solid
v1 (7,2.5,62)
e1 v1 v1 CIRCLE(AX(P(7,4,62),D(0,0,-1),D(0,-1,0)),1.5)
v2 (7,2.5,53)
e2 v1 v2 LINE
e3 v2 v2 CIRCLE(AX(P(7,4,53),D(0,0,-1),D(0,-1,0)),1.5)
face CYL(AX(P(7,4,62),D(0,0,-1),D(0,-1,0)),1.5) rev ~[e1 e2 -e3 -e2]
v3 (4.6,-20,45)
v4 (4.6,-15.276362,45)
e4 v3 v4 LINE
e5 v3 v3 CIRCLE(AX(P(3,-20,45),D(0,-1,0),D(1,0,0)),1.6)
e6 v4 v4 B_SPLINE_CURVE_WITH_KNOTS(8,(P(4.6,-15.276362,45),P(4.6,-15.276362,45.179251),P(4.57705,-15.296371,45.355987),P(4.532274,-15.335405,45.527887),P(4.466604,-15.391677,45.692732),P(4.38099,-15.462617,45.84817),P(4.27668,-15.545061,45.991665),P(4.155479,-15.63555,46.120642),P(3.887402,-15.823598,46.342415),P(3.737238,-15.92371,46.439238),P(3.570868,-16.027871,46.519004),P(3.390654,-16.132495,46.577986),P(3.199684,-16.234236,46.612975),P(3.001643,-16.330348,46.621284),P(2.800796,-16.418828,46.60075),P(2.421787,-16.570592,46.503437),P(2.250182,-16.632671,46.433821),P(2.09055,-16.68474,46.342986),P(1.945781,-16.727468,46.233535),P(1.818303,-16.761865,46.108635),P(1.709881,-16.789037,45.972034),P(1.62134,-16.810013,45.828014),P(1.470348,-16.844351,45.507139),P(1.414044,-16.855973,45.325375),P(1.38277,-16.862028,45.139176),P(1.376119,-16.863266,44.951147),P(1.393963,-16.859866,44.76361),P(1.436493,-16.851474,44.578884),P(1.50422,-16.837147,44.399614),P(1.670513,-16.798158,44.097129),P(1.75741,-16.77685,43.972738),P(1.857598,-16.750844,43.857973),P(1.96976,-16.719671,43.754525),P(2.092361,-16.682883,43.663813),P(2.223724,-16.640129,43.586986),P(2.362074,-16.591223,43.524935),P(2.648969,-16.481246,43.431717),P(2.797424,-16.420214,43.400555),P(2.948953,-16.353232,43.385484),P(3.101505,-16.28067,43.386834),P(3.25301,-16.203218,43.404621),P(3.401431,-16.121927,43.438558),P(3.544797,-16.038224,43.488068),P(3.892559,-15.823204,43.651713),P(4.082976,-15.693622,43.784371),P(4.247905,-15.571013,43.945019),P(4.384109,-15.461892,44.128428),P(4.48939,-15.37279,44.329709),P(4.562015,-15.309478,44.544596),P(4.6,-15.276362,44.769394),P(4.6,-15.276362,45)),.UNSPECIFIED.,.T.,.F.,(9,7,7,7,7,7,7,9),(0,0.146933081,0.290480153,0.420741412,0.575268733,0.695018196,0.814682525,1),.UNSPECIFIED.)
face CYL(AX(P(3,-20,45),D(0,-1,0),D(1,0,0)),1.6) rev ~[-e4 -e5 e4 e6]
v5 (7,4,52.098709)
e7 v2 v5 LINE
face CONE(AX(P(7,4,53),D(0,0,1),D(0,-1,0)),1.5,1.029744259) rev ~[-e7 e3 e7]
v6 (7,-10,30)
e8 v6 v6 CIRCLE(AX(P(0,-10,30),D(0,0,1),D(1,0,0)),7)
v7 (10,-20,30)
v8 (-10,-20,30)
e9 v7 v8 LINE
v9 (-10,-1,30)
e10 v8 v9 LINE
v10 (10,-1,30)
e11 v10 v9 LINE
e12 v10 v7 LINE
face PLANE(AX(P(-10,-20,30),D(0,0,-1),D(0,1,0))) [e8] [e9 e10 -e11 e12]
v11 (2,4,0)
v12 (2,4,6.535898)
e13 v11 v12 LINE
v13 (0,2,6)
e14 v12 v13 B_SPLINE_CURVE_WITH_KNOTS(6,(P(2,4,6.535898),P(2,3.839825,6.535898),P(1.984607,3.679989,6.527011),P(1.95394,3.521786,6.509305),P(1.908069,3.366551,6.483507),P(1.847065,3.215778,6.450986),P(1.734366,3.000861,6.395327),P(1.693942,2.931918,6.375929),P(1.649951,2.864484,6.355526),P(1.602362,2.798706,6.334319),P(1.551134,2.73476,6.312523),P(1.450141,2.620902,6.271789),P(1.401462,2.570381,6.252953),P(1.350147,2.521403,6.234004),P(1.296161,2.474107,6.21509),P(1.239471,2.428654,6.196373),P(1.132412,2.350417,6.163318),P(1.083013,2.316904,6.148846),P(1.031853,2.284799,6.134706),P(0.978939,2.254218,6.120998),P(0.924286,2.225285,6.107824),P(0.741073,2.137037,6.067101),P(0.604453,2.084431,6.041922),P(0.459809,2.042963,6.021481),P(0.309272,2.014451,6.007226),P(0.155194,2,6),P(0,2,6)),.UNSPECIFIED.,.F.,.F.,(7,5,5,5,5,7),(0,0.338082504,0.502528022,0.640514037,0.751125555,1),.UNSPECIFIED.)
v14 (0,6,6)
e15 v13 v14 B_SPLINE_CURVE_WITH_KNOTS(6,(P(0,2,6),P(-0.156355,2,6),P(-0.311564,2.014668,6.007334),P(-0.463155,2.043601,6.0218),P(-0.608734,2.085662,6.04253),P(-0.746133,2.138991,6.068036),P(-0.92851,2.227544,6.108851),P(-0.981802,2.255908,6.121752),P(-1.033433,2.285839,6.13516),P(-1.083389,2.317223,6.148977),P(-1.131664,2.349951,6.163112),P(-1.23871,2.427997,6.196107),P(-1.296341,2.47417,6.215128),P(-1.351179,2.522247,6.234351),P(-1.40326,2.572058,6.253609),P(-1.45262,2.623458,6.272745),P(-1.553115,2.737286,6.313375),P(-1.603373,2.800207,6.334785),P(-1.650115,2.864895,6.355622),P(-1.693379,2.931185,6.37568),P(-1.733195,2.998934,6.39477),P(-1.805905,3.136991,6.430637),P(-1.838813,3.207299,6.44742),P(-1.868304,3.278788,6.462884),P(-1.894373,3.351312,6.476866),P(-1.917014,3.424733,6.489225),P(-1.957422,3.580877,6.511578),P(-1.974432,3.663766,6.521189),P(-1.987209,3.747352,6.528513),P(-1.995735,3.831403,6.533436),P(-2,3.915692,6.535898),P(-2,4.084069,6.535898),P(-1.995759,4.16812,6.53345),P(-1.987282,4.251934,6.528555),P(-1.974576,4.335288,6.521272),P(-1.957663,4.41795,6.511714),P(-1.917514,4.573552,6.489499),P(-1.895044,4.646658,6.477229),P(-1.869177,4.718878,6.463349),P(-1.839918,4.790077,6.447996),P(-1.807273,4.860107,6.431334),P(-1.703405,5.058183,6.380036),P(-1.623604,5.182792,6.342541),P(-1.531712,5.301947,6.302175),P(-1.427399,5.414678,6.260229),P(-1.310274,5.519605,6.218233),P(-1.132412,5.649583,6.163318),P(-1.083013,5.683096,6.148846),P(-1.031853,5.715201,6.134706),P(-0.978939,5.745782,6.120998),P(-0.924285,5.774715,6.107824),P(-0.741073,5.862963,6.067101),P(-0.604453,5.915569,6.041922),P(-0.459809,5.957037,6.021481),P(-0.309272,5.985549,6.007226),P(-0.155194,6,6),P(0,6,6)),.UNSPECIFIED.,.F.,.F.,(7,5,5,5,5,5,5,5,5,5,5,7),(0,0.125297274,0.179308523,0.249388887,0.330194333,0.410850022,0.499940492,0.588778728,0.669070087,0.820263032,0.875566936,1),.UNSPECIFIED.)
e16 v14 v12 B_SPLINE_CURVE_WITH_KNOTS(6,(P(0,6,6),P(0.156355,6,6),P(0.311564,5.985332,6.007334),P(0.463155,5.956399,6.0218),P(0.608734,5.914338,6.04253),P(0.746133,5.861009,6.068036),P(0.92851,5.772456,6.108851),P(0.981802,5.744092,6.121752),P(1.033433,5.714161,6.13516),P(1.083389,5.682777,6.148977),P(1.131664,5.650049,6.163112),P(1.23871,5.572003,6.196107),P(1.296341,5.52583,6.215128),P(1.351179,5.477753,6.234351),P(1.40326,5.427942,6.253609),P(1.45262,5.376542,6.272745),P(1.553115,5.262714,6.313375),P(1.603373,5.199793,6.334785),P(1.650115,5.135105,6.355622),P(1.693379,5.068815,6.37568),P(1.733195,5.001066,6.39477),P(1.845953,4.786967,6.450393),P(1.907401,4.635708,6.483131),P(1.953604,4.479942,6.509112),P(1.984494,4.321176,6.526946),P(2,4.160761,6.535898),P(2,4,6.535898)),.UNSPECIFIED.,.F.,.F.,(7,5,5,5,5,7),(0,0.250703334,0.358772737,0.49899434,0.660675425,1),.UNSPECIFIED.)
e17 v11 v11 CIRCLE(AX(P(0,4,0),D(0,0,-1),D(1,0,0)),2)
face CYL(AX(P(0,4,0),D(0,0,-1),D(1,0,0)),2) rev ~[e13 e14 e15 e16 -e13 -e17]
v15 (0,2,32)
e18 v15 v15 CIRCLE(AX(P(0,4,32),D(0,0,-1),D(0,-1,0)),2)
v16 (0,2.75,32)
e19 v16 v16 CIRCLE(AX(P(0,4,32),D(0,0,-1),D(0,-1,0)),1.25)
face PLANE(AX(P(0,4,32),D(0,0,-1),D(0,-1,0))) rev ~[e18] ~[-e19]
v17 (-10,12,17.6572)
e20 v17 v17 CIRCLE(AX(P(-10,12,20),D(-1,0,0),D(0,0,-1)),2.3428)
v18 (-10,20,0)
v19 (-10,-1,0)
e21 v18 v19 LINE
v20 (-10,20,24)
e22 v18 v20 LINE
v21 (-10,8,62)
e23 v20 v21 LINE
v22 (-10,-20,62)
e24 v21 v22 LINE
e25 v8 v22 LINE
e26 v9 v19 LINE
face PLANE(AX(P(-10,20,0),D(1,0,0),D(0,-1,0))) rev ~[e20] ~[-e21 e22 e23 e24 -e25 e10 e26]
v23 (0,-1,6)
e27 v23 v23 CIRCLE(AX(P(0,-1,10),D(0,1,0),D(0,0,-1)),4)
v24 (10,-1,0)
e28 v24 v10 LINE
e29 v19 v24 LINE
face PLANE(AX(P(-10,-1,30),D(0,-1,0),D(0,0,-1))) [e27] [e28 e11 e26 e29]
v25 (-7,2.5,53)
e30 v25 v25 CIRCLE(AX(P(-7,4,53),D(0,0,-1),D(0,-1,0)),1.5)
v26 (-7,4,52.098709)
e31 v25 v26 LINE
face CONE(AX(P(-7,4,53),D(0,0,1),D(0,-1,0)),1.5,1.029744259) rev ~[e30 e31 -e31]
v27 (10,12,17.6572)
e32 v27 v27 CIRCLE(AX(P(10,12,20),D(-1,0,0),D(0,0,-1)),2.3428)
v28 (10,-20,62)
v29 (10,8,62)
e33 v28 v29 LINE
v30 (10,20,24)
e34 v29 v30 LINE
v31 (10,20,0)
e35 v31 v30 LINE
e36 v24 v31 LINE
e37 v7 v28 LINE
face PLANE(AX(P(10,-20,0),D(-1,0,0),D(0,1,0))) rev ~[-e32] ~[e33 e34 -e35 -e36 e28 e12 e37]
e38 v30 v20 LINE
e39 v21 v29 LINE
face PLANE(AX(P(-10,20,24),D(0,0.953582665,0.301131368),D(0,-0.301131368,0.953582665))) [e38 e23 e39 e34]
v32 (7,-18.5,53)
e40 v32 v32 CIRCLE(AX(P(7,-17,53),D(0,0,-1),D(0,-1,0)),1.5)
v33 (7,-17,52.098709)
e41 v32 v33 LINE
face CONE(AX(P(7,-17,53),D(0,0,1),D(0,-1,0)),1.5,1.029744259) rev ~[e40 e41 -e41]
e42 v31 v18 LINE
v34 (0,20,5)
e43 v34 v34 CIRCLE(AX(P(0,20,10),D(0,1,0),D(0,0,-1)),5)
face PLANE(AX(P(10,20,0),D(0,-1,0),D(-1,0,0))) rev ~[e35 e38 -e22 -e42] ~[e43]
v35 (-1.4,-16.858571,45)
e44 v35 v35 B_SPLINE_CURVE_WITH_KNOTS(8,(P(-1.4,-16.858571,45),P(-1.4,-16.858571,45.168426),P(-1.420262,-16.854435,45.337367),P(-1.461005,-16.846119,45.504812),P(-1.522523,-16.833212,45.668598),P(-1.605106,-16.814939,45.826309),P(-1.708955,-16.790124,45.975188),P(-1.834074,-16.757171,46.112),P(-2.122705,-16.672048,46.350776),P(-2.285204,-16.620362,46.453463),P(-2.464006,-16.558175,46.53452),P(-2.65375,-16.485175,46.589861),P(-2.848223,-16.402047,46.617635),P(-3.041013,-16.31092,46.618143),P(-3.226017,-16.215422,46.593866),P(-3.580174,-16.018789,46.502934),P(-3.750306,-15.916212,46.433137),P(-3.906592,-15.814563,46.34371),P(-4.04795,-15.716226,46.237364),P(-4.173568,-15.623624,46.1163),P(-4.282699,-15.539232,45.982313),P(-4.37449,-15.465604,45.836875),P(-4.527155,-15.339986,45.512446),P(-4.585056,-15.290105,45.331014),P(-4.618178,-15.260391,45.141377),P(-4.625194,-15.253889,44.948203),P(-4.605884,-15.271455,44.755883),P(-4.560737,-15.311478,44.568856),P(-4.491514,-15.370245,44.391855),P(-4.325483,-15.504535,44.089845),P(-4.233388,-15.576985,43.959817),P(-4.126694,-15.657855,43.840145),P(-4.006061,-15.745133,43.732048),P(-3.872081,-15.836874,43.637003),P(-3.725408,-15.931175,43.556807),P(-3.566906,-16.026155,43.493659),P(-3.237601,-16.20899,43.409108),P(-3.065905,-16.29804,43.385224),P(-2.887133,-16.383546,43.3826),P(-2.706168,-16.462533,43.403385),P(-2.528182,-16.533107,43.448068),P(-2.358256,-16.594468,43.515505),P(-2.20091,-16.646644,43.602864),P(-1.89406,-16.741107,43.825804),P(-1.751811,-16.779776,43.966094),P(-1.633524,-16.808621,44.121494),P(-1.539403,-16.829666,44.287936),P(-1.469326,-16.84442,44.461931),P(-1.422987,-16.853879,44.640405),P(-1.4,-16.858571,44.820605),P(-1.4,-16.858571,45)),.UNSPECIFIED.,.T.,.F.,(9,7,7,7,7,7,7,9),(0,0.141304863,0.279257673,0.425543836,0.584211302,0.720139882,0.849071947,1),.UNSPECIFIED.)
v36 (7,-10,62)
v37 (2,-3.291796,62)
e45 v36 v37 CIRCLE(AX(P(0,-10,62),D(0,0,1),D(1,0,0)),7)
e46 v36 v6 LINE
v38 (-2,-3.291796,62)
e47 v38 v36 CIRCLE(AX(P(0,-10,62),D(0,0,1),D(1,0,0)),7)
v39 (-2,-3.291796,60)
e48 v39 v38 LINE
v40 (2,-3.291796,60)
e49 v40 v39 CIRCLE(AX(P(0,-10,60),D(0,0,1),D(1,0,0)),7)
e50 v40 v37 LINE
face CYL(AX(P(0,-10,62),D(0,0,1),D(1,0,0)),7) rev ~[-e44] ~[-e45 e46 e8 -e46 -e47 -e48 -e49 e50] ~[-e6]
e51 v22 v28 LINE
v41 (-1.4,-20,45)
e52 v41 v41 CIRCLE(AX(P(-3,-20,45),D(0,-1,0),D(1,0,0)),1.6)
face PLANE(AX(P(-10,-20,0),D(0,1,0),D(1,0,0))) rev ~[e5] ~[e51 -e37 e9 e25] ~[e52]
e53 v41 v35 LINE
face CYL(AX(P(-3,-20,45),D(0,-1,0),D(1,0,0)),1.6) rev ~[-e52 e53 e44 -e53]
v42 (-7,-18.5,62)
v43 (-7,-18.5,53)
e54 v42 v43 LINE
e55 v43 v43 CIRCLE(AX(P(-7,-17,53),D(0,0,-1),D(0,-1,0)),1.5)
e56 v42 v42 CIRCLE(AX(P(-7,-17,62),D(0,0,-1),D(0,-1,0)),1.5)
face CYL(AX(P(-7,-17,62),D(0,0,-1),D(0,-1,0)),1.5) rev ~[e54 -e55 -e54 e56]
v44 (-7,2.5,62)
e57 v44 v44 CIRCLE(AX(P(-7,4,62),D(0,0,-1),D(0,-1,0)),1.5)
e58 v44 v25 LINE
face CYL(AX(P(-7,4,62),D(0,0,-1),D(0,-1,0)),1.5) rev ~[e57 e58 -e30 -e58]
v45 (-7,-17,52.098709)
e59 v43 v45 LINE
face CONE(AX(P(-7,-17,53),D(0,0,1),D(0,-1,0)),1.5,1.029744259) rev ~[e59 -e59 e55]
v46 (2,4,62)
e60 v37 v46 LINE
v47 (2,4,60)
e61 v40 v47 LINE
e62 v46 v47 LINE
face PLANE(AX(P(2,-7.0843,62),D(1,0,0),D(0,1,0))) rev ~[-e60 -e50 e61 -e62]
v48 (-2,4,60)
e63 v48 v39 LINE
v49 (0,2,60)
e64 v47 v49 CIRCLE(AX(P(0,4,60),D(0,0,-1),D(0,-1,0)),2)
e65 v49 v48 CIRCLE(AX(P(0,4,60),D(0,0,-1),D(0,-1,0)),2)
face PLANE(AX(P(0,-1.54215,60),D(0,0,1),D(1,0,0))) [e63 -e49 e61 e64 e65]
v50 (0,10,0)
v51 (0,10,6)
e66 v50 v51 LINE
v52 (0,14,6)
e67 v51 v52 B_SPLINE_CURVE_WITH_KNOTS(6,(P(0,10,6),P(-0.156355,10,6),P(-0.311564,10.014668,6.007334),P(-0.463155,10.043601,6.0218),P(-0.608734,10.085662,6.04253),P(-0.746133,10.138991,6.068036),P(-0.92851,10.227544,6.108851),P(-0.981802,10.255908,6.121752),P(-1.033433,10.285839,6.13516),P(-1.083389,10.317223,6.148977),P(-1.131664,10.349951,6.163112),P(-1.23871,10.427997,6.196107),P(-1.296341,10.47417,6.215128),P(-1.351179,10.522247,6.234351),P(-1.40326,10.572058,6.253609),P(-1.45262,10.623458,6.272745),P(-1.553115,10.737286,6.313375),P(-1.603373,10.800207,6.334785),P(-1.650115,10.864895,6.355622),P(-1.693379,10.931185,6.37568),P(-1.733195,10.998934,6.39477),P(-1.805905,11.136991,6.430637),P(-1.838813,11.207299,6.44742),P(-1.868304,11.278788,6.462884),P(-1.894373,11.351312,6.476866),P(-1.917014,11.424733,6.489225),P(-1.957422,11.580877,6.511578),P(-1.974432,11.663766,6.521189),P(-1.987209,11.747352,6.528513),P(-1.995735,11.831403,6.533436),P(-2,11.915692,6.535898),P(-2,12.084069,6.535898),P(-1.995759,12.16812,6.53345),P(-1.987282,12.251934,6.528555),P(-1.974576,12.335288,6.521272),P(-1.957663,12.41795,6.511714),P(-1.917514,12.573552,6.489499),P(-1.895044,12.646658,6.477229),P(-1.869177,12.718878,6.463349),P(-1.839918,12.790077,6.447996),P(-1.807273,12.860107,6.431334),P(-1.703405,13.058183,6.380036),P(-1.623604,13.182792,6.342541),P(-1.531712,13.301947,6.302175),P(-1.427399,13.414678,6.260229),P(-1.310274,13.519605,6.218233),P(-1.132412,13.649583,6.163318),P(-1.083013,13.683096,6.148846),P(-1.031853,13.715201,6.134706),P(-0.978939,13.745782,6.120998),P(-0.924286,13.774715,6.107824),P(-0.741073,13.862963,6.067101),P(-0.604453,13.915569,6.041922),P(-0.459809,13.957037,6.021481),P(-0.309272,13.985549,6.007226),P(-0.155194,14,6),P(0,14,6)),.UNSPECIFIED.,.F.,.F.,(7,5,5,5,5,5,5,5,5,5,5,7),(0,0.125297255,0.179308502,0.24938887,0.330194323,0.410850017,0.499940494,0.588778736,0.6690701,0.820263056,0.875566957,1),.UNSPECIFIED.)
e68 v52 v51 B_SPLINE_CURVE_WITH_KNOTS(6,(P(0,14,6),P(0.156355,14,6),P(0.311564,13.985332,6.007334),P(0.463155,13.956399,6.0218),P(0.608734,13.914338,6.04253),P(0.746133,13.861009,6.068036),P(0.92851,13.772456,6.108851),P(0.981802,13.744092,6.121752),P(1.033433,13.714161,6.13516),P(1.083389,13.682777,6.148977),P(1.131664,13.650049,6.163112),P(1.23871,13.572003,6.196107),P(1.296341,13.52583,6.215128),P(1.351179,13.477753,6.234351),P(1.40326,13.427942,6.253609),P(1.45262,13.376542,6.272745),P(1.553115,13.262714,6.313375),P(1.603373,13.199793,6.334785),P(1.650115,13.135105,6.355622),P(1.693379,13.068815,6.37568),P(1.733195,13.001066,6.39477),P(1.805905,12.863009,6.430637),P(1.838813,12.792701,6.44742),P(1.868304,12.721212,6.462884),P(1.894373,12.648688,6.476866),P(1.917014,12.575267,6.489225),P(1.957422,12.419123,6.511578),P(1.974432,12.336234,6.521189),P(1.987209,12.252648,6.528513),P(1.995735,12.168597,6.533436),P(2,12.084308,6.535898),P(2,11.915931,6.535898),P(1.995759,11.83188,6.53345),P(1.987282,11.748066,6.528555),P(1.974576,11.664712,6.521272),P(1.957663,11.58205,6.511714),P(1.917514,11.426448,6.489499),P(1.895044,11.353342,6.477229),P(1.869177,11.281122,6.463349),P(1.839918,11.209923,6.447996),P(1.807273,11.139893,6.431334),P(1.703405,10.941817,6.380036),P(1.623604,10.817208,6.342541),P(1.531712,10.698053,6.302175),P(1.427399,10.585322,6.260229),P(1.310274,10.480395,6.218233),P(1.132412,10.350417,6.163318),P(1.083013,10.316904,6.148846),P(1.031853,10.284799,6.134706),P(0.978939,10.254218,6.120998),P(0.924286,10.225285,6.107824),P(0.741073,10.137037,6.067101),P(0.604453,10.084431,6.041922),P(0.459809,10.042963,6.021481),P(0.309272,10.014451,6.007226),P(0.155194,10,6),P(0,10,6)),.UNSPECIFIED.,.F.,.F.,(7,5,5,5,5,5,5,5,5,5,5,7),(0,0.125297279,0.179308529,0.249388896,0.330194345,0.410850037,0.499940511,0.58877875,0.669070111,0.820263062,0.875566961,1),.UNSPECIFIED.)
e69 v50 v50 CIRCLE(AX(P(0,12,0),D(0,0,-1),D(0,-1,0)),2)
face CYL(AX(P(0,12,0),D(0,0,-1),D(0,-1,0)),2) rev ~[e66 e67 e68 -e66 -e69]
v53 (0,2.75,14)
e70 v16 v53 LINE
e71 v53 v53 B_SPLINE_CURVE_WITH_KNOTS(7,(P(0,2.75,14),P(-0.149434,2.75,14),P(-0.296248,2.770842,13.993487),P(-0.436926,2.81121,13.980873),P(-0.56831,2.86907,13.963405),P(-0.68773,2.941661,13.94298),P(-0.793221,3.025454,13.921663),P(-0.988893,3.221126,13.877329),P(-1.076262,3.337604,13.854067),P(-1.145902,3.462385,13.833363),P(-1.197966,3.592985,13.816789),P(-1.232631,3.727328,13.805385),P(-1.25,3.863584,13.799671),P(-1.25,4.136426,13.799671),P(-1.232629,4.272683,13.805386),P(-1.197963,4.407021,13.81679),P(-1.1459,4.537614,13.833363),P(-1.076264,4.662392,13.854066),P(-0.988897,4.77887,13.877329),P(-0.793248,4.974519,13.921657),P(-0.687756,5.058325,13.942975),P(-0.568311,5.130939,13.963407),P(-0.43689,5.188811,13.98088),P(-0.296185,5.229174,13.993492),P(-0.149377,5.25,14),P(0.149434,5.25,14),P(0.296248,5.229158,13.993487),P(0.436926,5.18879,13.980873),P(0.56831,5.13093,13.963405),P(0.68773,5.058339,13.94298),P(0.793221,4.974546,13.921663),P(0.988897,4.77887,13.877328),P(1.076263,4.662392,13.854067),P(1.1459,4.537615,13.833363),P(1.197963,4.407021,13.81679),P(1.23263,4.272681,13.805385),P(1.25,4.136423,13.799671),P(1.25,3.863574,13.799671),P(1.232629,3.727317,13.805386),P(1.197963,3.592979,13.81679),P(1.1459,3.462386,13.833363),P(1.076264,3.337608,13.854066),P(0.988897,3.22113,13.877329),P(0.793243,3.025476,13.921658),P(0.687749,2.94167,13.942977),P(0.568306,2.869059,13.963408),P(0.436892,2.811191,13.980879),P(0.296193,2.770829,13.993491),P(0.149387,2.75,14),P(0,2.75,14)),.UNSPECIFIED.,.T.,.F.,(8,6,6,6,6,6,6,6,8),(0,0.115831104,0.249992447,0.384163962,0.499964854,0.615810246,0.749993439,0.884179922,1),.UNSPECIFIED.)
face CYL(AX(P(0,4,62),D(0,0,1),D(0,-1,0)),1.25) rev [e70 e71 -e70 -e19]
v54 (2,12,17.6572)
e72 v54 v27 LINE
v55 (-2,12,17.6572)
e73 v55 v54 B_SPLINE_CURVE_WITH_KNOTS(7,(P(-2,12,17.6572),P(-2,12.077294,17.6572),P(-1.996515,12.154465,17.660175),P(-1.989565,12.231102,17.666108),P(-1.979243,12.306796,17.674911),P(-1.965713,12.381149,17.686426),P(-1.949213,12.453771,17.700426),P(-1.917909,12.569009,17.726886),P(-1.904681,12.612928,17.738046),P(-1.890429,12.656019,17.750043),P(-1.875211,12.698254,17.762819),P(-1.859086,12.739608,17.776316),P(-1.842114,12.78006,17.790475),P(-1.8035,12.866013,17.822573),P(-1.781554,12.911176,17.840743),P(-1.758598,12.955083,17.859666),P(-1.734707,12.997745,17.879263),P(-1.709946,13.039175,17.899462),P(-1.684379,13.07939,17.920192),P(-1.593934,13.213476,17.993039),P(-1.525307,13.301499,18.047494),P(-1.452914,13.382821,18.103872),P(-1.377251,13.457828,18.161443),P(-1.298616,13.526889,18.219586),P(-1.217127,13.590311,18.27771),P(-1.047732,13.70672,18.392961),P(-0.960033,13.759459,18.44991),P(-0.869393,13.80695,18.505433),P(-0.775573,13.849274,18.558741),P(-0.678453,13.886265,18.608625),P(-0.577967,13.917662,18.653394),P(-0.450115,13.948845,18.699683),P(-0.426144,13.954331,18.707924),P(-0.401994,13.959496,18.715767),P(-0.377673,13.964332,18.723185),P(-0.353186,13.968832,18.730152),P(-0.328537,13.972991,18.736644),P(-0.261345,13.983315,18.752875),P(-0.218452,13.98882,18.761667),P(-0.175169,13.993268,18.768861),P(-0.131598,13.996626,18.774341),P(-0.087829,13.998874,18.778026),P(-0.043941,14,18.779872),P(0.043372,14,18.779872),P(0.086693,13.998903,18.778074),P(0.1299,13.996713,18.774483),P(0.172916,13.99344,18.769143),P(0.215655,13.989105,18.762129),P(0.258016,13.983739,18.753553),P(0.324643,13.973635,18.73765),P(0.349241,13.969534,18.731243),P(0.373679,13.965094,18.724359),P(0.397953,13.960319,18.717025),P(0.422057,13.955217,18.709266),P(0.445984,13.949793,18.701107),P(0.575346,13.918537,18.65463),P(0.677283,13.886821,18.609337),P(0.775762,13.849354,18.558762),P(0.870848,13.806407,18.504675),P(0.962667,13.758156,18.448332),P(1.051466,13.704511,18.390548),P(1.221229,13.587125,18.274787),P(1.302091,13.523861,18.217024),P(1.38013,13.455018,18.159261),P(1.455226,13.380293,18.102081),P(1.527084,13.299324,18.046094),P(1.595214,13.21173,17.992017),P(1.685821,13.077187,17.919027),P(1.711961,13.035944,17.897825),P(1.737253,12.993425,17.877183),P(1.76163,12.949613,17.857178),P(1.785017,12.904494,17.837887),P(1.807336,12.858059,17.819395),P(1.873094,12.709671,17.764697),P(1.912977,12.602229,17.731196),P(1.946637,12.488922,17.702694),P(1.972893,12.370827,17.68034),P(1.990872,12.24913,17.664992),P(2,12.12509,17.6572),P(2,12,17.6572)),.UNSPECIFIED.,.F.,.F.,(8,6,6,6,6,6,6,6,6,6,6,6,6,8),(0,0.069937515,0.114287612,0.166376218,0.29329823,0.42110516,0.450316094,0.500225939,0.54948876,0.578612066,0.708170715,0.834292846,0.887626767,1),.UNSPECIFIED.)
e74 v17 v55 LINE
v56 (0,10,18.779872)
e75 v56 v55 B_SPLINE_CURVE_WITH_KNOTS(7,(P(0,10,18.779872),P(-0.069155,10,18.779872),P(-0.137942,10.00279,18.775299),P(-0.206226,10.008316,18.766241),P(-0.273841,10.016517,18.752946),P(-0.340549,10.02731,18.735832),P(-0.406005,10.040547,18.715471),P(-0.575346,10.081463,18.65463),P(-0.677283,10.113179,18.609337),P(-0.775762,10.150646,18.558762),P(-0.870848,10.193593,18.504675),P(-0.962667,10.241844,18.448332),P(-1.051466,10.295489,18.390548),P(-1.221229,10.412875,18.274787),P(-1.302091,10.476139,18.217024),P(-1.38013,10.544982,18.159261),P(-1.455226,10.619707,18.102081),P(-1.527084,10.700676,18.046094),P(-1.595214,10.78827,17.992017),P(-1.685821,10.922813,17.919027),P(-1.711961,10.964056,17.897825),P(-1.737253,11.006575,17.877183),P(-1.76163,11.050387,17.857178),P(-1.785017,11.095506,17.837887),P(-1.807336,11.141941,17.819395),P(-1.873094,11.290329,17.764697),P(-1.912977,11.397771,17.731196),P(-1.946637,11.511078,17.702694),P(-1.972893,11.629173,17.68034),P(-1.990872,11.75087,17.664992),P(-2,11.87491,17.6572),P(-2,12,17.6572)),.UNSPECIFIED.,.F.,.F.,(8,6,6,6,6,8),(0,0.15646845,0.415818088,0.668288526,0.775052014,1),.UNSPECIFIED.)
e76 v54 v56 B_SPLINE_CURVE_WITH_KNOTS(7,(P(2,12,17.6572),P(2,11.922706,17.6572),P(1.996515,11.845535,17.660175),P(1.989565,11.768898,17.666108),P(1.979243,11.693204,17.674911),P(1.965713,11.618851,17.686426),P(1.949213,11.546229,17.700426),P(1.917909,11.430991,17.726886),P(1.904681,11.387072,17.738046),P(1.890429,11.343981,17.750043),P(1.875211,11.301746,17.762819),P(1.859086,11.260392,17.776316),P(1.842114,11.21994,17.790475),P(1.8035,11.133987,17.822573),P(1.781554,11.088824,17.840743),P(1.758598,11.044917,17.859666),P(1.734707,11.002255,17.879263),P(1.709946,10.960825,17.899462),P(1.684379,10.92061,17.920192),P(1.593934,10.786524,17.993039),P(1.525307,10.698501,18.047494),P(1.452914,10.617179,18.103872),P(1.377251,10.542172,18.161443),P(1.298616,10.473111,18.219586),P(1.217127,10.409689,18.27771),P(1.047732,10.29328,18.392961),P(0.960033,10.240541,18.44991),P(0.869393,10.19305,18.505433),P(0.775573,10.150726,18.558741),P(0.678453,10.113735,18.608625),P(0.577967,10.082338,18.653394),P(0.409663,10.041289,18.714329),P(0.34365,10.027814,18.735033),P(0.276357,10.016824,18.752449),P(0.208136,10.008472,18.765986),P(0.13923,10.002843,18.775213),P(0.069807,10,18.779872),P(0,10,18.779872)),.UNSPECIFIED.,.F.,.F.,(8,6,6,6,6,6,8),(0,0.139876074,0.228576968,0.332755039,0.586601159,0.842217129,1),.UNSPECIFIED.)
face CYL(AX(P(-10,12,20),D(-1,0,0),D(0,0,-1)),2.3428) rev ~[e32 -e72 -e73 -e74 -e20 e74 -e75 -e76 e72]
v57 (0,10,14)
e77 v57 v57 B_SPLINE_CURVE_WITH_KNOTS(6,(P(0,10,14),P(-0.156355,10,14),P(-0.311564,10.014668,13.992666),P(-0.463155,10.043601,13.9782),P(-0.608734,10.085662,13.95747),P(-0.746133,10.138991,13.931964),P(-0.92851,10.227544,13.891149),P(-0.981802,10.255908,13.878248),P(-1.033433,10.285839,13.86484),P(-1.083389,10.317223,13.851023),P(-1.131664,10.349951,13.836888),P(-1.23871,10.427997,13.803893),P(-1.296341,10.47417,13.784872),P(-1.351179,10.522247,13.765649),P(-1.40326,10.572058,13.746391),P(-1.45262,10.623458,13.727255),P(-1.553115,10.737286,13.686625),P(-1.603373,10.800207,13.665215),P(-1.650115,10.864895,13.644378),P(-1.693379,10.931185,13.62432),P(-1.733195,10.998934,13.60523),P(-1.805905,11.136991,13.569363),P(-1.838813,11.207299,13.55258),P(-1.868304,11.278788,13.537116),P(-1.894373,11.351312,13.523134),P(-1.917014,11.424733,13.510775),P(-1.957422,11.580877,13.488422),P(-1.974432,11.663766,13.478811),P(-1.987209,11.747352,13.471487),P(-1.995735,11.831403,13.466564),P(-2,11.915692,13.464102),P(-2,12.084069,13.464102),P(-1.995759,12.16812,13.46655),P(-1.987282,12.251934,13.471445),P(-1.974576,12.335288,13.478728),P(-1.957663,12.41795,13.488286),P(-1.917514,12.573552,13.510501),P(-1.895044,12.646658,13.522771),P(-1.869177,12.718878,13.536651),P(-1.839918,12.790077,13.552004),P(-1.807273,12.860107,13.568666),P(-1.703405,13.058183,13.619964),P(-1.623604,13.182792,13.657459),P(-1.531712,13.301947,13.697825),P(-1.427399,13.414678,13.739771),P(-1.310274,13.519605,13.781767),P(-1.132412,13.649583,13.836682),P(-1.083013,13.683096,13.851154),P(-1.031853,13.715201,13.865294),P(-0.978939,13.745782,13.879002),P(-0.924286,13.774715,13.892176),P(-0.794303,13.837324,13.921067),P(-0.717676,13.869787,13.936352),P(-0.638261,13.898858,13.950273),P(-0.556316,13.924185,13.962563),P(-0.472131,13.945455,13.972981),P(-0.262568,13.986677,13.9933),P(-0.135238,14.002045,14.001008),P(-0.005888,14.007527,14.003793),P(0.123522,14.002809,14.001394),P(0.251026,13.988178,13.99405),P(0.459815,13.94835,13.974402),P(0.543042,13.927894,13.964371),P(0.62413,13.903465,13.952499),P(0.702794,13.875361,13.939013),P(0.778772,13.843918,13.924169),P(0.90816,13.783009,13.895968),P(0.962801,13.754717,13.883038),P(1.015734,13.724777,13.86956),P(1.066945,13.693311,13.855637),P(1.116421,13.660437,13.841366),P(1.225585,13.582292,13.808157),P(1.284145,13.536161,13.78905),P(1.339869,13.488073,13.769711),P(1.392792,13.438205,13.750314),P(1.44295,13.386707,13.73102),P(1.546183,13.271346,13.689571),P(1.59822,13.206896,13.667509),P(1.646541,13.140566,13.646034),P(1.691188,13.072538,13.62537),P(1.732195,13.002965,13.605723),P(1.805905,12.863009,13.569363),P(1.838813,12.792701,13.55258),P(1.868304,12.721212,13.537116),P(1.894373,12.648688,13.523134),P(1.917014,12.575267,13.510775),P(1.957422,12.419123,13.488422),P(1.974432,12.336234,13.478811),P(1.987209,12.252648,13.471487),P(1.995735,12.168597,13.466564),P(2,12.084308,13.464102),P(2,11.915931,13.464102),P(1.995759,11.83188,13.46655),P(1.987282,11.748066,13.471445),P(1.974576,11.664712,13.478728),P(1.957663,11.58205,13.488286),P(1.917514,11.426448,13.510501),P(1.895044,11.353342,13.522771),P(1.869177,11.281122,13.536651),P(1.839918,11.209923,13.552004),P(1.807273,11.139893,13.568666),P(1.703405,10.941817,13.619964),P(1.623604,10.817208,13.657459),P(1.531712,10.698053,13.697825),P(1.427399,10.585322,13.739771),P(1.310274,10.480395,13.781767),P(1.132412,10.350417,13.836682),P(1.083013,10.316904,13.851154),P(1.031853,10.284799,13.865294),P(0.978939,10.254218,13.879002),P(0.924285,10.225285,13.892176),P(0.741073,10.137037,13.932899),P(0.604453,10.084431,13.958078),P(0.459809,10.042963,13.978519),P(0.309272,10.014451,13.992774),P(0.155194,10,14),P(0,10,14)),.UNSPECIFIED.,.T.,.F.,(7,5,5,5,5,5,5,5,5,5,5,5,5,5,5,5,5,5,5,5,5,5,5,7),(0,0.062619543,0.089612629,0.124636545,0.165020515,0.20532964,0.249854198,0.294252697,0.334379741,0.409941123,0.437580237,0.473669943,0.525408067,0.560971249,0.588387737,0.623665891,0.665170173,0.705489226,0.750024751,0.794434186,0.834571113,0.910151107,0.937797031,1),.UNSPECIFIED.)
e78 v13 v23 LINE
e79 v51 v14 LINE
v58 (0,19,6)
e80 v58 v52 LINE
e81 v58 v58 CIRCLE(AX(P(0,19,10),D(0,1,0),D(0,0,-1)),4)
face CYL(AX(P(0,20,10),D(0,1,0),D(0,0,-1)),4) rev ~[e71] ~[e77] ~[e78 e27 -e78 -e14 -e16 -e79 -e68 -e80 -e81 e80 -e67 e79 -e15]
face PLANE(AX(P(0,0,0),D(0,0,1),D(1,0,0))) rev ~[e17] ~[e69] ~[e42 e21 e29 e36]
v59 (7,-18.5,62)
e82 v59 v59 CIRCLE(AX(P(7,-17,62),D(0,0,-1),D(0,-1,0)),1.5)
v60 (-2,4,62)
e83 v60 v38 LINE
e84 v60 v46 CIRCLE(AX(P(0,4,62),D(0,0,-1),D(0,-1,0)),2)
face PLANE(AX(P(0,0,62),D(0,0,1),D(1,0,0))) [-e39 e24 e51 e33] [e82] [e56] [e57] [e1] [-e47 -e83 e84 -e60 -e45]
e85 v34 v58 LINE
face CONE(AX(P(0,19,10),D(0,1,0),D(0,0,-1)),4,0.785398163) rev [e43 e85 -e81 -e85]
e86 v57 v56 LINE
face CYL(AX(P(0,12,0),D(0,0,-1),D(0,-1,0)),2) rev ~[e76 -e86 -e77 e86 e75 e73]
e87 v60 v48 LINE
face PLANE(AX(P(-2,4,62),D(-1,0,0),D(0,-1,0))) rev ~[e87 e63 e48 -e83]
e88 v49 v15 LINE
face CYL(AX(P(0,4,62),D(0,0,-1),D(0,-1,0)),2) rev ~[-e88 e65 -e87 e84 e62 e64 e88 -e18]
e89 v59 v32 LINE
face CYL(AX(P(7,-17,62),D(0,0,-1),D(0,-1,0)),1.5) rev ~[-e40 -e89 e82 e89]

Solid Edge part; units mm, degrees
sketch "Sketch1" plane through (0, 0, 0) normal (0, 0, 1) x (1, 0, 0)
  line L0 (-10, -20) -> (10, -20)
  line L1 (10, -20) -> (10, 20)
  line L2 (10, 20) -> (-10, 20)
  line L3 (-10, 20) -> (-10, -20)
extrude "Protrusion1" add sketch "Sketch1" along normal blind 62
sketch "Sketch2" plane through (-10, 0, 31) normal (-1, 0, 0) x (0, -1, 0)
  line L0 (20, -31) -> (20, -1)
  line L1 (20, -1) -> (1, -1)
  line L2 (1, -1) -> (1, -31)
  line L3 (1, -31) -> (20, -31)
  dimension "D1" = 21
extrude "Cutout1" cut sketch "Sketch2" along normal through all and the other way through all
sketch "Sketch3" plane through (-10, 0, 31) normal (-1, 0, 0) x (0, -1, 0)
  line L0 (-20, 31) -> (-8, 31)
  line L1 (-20, -7) -> (-8, 31)
  line L2 (-20, 31) -> (-20, -7)
extrude "Cutout2" cut sketch "Sketch3" along normal through all and the other way through all
hole "Hole1" at (7, 4, 62) direction (0, 0, -1) diameter 3 depth 9 tip angle 118
hole "Hole2" at (-7, 4, 62) direction (0, 0, -1) diameter 3 depth 9 tip angle 118
hole "Hole3" at (-7, -17, 62) direction (0, 0, -1) diameter 3 depth 9 tip angle 118
hole "Hole4" at (7, -17, 62) direction (0, 0, -1) diameter 3 depth 9 tip angle 118
sketch "Sketch4" plane through (0, -6, 62) normal (0, 0, 1) x (1, 0, 0)
  circle A0 centre (0, -4) radius 7
  dimension "D1" = 30
extrude "Cutout3" cut sketch "Sketch4" along normal up to next and the other way up to next
sketch "Sketch5" plane through (0, -20, 46) normal (0, -1, 0) x (1, 0, 0)
  circle A0 centre (-3, -1) radius 1.6
  circle A1 centre (3, -1) radius 1.6
  dimension "D1" = 17
  dimension "D2" = 3.2
  dimension "D3" = 3
  dimension "D4" = 3
  dimension "D5" = 17
extrude "Cutout4" cut sketch "Sketch5" along normal up to next and the other way up to next
sketch "Sketch6" plane through (0, 20, 12) normal (0, 1, 0) x (0, 0, -1)
  circle A0 centre (2, 0) radius 4
  dimension "D1" = 10
extrude "Cutout5" cut sketch "Sketch6" along normal up to next and the other way up to next
chamfer "Fase_an_schaft" distance 1 angle 45 1 edges at (0, 20, 14)
sketch "Sketch7" plane through (0, 9.5, 0) normal (0, 0, -1) x (1, 0, 0)
  circle A0 centre (0, 5.5) radius 2
  dimension "D1" = 16
extrude "Cutout6" cut sketch "Sketch7" along normal up to next and the other way up to next
hole "auslass_oben" at (0, 4, 62) direction (0, 0, -1) diameter 2.5 end up to next counterbore diameter 4 counterbore depth 30
sketch "Sketch8" plane through (-10, 0, 31) normal (-1, 0, 0) x (0, 0, -1)
  circle A0 centre (11, -12) radius 2.3428
  dimension "D1" = 20
  dimension "D2" = 8
extrude "Cutout7" cut sketch "Sketch8" along normal up to next and the other way up to next
sketch "Sketch9" plane through (0, 9.5, 0) normal (0, 0, -1) x (0, -1, 0)
  circle A0 centre (-2.5, 0) radius 2
  dimension "D1" = 8
extrude "auslassloch_hinten" cut sketch "Sketch9" against normal blind 20
sketch "Sketch10" plane through (0, -6, 62) normal (0, 0, 1) x (0, -1, 0)
  line L0 (-10, -2) -> (1.0843, -2)
  line L1 (1.0843, -2) -> (1.0843, 2)
  line L2 (1.0843, 2) -> (-10, 2)
  line L3 (-10, 2) -> (-10, -2)
  dimension "D1" = 4
extrude "fräsung_oben" cut sketch "Sketch10" against normal blind 2
